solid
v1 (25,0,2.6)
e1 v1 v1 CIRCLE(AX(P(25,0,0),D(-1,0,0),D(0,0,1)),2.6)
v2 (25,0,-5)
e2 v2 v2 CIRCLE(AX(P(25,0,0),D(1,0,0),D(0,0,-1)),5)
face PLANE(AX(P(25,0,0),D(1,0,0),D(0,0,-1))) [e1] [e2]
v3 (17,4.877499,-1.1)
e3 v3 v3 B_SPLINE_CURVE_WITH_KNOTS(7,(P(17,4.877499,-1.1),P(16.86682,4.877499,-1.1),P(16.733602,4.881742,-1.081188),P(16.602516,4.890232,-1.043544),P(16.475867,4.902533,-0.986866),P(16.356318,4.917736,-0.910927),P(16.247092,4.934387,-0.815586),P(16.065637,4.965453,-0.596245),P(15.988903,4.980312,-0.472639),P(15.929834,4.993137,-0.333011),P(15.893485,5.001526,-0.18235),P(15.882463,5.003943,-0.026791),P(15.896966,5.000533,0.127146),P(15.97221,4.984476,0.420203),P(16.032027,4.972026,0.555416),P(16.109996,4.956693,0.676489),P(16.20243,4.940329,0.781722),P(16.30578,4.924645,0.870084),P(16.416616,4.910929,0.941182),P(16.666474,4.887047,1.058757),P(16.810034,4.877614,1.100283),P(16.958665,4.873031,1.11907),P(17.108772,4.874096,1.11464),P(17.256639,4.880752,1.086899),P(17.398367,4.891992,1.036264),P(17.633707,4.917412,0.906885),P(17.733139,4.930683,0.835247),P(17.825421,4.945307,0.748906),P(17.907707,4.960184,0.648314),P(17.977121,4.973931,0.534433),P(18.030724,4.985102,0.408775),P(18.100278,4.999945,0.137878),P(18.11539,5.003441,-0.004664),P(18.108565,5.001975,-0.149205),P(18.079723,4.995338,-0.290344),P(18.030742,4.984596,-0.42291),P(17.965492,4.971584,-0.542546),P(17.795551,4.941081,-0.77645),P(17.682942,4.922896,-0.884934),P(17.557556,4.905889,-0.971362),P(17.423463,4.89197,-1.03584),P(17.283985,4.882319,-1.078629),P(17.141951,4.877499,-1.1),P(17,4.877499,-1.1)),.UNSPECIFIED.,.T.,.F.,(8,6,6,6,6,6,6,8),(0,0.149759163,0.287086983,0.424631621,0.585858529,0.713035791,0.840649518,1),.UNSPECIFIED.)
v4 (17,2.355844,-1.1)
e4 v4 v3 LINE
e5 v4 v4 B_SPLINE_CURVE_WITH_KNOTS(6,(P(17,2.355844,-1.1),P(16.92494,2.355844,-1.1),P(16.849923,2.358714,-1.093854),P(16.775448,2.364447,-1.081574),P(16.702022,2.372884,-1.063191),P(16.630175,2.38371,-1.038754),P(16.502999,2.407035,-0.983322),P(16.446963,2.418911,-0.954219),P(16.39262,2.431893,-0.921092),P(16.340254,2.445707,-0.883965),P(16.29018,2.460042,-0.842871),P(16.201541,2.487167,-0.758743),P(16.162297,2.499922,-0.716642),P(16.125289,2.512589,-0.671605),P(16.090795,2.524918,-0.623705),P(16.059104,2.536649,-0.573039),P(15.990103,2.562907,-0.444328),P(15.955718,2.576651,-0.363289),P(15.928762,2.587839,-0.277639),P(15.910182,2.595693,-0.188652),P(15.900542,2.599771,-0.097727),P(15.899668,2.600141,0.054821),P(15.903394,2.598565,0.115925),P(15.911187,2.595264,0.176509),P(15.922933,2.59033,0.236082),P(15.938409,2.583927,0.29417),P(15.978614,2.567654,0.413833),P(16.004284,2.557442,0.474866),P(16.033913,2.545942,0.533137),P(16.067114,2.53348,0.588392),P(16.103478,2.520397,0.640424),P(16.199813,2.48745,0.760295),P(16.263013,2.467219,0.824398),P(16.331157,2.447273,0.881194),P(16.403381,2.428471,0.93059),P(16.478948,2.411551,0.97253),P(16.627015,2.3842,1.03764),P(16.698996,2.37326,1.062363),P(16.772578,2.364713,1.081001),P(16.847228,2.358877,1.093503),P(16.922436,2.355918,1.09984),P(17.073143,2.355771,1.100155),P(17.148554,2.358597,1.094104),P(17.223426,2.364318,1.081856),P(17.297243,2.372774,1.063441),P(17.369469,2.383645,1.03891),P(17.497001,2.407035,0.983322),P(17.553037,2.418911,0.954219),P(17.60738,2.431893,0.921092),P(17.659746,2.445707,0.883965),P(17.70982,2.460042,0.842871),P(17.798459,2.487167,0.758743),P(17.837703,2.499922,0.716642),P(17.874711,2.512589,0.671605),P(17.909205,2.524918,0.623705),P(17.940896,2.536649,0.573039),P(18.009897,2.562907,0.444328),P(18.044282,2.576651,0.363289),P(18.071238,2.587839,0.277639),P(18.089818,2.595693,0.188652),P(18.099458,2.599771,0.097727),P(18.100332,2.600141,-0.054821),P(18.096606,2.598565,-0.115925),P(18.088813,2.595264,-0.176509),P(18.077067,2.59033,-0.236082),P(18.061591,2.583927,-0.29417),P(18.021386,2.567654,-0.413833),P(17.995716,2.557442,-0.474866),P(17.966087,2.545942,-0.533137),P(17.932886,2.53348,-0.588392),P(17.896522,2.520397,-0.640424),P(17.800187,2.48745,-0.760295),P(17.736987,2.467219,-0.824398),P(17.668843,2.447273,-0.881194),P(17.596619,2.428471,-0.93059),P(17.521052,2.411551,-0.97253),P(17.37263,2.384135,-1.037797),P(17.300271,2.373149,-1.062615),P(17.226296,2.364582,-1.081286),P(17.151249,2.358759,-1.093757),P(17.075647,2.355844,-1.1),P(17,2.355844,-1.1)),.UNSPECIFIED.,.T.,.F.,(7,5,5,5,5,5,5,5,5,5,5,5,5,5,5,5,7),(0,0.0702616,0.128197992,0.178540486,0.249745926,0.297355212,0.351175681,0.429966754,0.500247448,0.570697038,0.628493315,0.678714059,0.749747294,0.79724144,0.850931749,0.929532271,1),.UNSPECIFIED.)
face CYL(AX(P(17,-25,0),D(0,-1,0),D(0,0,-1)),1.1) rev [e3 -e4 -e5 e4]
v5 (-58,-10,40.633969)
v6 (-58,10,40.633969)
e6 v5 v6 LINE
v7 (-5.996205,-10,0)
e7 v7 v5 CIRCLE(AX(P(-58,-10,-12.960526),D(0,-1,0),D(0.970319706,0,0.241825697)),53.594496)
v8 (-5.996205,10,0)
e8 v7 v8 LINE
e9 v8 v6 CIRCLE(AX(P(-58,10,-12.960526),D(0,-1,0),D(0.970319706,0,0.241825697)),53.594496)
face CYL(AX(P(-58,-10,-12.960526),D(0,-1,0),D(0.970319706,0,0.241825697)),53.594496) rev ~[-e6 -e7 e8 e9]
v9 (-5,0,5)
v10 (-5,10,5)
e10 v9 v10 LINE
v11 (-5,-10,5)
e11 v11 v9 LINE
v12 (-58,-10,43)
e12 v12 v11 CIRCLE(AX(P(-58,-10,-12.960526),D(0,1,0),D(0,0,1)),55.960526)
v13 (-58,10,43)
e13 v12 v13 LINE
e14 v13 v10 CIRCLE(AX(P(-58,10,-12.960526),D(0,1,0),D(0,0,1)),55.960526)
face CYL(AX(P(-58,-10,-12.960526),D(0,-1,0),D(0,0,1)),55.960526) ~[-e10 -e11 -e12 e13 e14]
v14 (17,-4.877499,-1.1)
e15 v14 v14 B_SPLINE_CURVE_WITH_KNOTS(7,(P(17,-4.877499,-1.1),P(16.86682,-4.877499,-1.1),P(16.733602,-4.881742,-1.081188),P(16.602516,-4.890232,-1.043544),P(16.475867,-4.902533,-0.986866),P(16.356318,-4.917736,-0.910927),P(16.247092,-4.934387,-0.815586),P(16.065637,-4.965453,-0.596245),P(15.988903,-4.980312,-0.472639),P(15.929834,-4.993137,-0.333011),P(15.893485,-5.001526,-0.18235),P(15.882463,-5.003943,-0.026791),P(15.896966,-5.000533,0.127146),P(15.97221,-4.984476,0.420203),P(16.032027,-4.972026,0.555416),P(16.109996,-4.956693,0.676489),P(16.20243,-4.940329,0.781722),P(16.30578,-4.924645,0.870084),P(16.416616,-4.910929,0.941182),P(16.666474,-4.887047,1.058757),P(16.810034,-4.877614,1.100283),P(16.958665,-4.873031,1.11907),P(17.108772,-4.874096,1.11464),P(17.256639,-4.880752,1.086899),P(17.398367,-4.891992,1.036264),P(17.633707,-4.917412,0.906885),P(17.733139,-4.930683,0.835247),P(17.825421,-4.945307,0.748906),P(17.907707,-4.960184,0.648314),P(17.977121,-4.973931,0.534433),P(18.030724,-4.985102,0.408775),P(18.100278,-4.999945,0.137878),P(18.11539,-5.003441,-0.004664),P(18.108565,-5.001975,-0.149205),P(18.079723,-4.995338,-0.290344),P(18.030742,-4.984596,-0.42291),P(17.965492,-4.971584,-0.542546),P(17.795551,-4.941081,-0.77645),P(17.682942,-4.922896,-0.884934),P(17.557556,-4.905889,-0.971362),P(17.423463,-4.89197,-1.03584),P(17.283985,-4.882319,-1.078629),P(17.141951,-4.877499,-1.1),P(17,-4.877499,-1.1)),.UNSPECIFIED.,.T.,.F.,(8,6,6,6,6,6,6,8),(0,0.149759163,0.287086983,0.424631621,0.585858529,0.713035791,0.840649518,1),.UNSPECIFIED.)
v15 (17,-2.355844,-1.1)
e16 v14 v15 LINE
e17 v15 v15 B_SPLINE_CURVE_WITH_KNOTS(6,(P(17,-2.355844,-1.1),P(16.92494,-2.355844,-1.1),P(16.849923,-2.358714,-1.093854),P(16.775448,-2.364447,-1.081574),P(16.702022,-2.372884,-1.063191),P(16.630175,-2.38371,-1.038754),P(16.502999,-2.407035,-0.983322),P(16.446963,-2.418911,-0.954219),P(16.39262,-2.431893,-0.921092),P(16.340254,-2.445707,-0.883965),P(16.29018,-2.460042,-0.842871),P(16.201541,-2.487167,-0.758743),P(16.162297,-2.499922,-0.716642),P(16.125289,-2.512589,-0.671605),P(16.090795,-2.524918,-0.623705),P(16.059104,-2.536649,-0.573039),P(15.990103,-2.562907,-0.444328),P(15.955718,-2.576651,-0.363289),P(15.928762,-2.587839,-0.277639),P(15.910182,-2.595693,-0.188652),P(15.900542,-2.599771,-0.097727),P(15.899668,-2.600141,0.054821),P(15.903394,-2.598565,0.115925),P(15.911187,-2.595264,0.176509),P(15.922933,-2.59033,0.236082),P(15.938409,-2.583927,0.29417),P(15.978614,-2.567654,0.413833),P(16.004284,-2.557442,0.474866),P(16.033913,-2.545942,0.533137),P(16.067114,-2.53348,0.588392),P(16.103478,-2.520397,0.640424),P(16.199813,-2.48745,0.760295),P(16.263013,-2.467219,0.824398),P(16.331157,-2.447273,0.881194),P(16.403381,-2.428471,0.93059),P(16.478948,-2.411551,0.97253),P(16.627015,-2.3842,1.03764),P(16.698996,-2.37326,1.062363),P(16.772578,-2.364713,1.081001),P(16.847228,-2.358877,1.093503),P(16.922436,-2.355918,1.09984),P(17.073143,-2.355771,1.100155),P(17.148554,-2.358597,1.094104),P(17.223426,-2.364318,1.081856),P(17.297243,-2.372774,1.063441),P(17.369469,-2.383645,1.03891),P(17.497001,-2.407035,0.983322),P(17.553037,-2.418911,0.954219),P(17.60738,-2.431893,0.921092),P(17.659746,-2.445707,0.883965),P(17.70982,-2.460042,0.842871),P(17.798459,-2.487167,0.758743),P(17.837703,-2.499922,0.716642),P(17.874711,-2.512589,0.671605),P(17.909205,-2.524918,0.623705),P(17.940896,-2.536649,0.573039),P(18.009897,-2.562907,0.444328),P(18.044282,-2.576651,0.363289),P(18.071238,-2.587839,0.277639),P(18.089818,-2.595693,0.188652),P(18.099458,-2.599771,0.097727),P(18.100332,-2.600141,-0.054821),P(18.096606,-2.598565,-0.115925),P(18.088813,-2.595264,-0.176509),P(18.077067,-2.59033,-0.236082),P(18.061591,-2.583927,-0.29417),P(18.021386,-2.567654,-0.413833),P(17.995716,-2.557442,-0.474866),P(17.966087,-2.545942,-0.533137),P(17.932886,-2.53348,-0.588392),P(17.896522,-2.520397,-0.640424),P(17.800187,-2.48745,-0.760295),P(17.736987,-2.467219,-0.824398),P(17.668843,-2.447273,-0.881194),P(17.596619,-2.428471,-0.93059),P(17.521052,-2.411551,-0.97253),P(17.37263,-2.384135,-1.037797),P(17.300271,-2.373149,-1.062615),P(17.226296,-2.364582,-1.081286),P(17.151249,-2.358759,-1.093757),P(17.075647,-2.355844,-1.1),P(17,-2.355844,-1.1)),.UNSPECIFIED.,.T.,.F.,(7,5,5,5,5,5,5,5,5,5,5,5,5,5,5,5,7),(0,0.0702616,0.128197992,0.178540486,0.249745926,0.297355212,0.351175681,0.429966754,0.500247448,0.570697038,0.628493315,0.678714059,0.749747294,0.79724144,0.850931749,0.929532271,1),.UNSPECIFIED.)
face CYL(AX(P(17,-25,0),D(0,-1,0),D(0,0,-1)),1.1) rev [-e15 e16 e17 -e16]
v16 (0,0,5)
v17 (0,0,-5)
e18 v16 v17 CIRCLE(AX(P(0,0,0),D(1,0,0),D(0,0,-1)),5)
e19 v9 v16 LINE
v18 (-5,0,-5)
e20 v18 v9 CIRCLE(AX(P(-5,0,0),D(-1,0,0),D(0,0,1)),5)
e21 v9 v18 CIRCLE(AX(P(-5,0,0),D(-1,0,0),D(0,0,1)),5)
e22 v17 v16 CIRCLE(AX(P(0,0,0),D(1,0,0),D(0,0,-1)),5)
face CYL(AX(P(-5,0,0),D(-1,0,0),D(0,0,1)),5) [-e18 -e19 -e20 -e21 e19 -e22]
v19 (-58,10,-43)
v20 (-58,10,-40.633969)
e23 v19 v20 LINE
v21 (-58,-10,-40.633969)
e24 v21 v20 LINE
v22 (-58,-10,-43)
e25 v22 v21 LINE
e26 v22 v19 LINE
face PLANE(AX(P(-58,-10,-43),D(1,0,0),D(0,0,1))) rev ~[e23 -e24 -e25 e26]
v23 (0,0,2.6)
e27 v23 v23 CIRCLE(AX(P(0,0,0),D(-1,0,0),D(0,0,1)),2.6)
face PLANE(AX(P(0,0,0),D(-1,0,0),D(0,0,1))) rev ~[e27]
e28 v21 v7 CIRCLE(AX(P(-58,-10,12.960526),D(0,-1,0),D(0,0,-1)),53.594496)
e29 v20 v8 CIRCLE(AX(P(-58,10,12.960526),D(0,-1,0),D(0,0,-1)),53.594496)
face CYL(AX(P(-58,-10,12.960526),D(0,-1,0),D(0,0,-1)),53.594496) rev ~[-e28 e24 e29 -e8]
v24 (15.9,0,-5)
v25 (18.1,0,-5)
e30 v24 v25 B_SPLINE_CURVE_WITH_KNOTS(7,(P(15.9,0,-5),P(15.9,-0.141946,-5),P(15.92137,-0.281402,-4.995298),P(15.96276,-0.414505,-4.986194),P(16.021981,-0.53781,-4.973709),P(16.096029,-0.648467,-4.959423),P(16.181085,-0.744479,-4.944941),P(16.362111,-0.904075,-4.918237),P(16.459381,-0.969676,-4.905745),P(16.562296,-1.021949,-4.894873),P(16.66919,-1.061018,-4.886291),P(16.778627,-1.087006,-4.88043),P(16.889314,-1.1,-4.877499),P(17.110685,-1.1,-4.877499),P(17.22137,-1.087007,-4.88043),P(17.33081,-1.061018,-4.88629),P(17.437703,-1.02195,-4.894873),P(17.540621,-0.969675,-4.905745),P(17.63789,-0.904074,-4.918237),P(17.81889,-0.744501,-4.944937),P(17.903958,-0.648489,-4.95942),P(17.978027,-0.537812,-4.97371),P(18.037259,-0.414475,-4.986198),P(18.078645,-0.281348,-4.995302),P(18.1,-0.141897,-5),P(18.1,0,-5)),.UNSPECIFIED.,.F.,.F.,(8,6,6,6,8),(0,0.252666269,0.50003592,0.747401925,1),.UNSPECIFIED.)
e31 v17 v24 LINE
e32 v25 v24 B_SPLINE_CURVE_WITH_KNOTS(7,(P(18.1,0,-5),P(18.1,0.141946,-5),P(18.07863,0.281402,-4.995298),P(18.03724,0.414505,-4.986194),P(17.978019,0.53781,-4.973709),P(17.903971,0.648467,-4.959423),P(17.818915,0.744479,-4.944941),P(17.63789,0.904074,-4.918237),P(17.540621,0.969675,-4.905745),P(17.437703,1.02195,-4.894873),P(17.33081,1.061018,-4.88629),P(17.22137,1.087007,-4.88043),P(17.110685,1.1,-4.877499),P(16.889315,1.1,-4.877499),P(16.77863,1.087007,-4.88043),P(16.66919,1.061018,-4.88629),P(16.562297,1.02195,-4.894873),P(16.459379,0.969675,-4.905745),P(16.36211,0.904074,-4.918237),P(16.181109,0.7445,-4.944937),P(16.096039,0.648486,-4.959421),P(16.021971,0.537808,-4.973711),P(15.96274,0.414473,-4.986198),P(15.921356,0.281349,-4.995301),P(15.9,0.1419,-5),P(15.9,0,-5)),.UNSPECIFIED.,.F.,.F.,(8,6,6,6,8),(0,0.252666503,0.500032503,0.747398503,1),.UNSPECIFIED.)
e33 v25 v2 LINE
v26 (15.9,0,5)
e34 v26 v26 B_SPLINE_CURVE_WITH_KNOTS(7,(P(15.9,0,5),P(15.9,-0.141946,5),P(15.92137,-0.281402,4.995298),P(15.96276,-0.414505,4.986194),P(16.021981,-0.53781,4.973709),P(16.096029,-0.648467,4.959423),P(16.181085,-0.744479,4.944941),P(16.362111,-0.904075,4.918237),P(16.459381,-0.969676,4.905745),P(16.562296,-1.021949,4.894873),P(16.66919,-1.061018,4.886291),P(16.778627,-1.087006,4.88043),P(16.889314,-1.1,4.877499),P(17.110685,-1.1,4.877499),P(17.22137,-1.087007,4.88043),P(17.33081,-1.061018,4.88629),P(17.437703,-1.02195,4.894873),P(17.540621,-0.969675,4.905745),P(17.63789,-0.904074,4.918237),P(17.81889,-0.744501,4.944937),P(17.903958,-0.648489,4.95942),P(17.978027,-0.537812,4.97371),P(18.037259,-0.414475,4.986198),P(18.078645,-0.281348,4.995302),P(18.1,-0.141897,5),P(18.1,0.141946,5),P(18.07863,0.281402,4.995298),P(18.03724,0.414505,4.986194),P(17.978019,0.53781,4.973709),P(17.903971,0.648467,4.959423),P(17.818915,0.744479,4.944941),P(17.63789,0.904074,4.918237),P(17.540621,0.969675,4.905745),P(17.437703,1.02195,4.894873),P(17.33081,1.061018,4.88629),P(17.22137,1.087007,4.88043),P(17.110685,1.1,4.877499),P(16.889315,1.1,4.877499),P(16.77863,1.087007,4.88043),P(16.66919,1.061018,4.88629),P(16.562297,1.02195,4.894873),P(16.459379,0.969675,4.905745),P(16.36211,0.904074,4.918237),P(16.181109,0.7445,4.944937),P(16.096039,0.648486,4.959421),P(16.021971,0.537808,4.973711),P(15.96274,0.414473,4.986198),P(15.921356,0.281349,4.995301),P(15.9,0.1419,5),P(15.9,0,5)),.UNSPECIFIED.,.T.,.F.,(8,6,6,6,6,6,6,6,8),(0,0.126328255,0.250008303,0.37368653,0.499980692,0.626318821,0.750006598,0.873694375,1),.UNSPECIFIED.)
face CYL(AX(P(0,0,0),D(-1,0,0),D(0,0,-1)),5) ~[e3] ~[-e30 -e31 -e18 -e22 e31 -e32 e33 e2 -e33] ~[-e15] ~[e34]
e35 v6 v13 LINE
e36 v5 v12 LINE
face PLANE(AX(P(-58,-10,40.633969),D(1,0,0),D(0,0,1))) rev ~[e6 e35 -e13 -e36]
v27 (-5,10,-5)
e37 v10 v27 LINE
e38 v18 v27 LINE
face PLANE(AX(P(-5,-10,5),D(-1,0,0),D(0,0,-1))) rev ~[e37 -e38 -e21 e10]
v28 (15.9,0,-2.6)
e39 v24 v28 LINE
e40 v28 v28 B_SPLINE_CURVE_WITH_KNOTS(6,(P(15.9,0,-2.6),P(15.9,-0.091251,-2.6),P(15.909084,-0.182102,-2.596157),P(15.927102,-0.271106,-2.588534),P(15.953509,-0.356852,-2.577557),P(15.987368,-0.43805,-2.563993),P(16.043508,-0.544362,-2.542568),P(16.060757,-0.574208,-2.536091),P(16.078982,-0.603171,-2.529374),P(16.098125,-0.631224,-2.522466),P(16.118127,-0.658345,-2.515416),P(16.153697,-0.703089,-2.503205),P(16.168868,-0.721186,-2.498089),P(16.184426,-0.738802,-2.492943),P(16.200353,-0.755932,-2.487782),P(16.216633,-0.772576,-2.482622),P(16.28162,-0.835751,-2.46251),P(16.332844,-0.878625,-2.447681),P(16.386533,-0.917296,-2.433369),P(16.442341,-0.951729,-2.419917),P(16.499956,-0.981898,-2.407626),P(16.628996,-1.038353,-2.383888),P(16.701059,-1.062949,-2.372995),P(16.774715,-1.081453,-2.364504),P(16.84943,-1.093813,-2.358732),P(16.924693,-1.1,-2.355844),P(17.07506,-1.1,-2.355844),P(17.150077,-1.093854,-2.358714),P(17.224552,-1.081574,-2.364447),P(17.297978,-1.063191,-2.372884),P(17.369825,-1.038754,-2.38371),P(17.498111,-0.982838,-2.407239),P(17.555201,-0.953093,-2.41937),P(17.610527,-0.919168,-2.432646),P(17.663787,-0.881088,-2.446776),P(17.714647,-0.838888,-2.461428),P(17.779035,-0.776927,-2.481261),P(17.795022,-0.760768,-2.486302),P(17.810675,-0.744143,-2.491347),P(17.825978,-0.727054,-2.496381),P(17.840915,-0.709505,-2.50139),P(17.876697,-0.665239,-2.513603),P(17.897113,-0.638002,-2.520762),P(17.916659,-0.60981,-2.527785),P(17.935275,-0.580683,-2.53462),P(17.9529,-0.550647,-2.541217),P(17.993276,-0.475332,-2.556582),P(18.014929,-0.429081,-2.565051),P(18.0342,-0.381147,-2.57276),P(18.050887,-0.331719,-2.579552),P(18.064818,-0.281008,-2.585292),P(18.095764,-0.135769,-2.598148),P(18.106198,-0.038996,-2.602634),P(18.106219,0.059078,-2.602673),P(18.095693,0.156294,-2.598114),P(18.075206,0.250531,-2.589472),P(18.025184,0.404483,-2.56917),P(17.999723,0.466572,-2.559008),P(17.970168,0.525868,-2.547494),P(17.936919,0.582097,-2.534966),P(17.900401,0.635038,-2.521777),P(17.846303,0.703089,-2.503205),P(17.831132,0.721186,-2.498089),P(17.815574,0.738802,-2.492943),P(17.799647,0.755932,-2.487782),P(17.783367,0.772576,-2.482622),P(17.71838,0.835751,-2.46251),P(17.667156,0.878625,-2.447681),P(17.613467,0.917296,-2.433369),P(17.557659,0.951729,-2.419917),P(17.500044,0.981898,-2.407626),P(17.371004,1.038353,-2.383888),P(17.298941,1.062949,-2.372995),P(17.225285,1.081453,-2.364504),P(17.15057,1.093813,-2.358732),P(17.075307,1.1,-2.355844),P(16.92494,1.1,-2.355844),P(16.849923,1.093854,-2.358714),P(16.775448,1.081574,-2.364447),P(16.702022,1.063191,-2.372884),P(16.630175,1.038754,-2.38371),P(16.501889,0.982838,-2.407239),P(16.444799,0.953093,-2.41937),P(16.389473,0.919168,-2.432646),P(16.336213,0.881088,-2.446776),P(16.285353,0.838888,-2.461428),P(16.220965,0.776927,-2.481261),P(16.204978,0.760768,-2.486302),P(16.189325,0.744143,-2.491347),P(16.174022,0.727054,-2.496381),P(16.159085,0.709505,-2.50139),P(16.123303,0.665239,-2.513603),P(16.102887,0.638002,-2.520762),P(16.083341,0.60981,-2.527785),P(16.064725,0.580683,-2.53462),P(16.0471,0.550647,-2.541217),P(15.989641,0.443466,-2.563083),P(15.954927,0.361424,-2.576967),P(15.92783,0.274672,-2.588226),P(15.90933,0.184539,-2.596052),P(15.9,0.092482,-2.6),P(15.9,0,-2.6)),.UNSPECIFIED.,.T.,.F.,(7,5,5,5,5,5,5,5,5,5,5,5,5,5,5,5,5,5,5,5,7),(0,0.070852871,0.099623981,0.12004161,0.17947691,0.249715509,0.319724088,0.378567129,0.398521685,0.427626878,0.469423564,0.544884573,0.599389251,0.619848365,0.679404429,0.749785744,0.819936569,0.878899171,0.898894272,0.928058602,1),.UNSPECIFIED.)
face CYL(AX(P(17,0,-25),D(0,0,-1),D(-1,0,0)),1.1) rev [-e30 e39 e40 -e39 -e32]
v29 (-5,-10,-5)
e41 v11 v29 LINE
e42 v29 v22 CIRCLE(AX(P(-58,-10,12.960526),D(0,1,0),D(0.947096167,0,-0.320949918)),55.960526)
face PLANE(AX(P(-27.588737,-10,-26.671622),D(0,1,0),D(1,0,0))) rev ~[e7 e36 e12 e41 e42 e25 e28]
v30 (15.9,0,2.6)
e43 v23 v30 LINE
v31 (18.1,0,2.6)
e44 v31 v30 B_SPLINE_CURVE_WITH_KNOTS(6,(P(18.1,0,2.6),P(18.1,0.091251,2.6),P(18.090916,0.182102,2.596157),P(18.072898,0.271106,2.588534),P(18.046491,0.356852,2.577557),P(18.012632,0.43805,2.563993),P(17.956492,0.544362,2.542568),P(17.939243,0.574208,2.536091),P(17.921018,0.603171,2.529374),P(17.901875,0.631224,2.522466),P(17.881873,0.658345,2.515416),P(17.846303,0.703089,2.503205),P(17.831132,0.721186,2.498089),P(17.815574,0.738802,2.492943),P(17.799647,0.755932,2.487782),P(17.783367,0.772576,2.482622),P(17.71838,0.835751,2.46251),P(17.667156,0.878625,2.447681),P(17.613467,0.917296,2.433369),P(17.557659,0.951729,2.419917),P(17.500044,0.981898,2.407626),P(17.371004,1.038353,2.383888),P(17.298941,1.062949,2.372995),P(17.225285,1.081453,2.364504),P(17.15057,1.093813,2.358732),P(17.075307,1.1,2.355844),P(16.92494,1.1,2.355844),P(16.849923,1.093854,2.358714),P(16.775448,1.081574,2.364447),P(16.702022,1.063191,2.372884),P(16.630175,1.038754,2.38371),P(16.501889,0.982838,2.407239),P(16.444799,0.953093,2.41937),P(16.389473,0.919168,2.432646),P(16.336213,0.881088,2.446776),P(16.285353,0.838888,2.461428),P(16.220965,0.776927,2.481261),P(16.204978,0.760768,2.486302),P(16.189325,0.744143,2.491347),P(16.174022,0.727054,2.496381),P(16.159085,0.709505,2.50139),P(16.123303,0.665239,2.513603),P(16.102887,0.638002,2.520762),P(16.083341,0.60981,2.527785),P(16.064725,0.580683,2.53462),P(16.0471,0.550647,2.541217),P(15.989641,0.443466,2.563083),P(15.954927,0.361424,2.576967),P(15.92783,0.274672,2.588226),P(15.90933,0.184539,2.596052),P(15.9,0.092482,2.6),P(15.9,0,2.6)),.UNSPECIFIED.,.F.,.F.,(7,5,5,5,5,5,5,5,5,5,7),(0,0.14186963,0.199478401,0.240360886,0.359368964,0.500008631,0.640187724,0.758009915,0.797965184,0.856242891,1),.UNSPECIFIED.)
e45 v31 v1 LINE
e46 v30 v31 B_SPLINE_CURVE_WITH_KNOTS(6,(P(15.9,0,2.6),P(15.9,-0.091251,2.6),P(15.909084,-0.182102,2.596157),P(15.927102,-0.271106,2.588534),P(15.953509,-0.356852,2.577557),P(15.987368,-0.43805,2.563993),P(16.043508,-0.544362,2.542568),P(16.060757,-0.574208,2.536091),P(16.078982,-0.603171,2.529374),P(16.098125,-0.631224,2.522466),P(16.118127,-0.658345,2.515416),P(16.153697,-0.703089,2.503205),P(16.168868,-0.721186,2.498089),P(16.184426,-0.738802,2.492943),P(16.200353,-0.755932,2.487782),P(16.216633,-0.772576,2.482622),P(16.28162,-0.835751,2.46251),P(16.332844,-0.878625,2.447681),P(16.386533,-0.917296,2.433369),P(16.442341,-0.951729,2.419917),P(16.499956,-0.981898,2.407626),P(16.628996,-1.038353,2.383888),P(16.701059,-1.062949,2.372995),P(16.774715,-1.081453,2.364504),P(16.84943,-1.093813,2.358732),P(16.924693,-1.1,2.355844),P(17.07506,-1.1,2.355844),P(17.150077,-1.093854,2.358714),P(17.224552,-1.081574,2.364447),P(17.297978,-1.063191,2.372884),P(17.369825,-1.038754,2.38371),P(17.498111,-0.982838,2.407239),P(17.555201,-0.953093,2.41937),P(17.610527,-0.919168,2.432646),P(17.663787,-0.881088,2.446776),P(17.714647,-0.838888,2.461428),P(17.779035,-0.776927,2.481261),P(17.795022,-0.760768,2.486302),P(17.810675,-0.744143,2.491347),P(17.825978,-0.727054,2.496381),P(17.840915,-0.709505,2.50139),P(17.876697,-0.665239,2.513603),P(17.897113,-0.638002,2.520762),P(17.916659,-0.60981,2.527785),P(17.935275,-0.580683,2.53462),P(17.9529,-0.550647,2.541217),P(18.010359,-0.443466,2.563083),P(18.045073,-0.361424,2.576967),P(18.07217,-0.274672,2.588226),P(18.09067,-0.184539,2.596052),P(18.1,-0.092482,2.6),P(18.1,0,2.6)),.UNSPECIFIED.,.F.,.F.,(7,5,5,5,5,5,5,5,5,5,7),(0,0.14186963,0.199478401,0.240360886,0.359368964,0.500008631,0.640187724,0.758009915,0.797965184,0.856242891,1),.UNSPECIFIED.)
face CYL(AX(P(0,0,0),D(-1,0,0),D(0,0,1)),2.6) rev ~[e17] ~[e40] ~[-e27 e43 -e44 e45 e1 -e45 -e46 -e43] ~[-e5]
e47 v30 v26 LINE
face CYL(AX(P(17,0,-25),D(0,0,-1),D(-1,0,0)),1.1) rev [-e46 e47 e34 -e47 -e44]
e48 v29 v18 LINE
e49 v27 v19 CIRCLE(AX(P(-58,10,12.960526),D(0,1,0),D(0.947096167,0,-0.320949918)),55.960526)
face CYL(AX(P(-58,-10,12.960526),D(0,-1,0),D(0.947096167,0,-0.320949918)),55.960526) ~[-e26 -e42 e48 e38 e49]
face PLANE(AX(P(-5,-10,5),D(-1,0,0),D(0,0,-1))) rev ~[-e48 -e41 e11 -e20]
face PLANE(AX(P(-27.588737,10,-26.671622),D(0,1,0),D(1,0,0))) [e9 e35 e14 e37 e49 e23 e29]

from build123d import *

# Parameters (mm, degrees)
SKETCH1_R                = 5
BOSS_EXTRUDE1_DEPTH      = 25
SKETCH2_R                = 2.6
CUT_EXTRUDE1_DEPTH       = 25
CUT_EXTRUDE3_DEPTH       = 25
CUT_EXTRUDE3_DEPTH_BACK  = 25
SKETCH3_R                = 1.1
CUT_EXTRUDE4_DEPTH       = 25
CUT_EXTRUDE4_DEPTH_BACK  = 25
SKETCH4_R                = 1.1
BOSS_EXTRUDE3_START      = 5
SKETCH6_R                = 5
BOSS_EXTRUDE3_DEPTH      = 5
BOSS_EXTRUDE2_DEPTH      = 10
BOSS_EXTRUDE2_DEPTH_BACK = 10


with BuildPart() as part:
    # Sketch1 → Boss-Extrude1 (new body)
    with BuildSketch(Plane(origin=(0, 0, 0), x_dir=(0, 0, -1), z_dir=(1, 0, 0))):
        Circle(SKETCH1_R)
    extrude(amount=BOSS_EXTRUDE1_DEPTH)

    # Sketch2 → Cut-Extrude1 (cut)
    with BuildSketch(Plane.ZY):
        Circle(SKETCH2_R)
    extrude(amount=-CUT_EXTRUDE1_DEPTH, mode=Mode.SUBTRACT)

    # Sketch3 → Cut-Extrude3 (cut, two sides: drawn at the far end of the back side and taken through both)
    with BuildSketch(Plane(origin=(0, 0, 0), x_dir=(1, 0, 0), z_dir=(0, 1, 0)).offset(-CUT_EXTRUDE3_DEPTH_BACK)):
        with Locations((17, 0)):
            Circle(SKETCH3_R)
    extrude(amount=CUT_EXTRUDE3_DEPTH + CUT_EXTRUDE3_DEPTH_BACK, mode=Mode.SUBTRACT)

    # Sketch4 → Cut-Extrude4 (cut, two sides: drawn at the far end of the back side and taken through both)
    with BuildSketch(Plane.XY.offset(-CUT_EXTRUDE4_DEPTH_BACK)):
        with Locations((17, 0)):
            Circle(SKETCH4_R)
    extrude(amount=CUT_EXTRUDE4_DEPTH + CUT_EXTRUDE4_DEPTH_BACK, mode=Mode.SUBTRACT)

    # Sketch6 → Boss-Extrude3 (add)
    with BuildSketch(Plane.ZY.offset(BOSS_EXTRUDE3_START)):
        Circle(SKETCH6_R)
    extrude(amount=-BOSS_EXTRUDE3_DEPTH)

    # Sketch5 → Boss-Extrude2 (add, two sides: drawn at the far end of the back side and taken through both)
    with BuildSketch(Plane(origin=(0, 0, 0), x_dir=(1, 0, 0), z_dir=(0, 1, 0)).offset(-BOSS_EXTRUDE2_DEPTH_BACK)):
        with BuildLine():
            Line((-58, -40.633969476), (-58, -43))
            ThreePointArc((-58, -43), (-25.392485529, -32.518375447), (-5, -5))
            Line((-5, -5), (-5, 5))
            ThreePointArc((-5, 5), (-25.392485529, 32.518375447), (-58, 43))
            Line((-58, 43), (-58, 40.633969476))
            ThreePointArc((-58, 40.633969476), (-25.001840156, 29.270877002), (-5.996204592, 0))
            ThreePointArc((-5.996204592, 0), (-25.001840156, -29.270877002), (-58, -40.633969476))
        make_face()
    extrude(amount=BOSS_EXTRUDE2_DEPTH + BOSS_EXTRUDE2_DEPTH_BACK)


solid = part.part
